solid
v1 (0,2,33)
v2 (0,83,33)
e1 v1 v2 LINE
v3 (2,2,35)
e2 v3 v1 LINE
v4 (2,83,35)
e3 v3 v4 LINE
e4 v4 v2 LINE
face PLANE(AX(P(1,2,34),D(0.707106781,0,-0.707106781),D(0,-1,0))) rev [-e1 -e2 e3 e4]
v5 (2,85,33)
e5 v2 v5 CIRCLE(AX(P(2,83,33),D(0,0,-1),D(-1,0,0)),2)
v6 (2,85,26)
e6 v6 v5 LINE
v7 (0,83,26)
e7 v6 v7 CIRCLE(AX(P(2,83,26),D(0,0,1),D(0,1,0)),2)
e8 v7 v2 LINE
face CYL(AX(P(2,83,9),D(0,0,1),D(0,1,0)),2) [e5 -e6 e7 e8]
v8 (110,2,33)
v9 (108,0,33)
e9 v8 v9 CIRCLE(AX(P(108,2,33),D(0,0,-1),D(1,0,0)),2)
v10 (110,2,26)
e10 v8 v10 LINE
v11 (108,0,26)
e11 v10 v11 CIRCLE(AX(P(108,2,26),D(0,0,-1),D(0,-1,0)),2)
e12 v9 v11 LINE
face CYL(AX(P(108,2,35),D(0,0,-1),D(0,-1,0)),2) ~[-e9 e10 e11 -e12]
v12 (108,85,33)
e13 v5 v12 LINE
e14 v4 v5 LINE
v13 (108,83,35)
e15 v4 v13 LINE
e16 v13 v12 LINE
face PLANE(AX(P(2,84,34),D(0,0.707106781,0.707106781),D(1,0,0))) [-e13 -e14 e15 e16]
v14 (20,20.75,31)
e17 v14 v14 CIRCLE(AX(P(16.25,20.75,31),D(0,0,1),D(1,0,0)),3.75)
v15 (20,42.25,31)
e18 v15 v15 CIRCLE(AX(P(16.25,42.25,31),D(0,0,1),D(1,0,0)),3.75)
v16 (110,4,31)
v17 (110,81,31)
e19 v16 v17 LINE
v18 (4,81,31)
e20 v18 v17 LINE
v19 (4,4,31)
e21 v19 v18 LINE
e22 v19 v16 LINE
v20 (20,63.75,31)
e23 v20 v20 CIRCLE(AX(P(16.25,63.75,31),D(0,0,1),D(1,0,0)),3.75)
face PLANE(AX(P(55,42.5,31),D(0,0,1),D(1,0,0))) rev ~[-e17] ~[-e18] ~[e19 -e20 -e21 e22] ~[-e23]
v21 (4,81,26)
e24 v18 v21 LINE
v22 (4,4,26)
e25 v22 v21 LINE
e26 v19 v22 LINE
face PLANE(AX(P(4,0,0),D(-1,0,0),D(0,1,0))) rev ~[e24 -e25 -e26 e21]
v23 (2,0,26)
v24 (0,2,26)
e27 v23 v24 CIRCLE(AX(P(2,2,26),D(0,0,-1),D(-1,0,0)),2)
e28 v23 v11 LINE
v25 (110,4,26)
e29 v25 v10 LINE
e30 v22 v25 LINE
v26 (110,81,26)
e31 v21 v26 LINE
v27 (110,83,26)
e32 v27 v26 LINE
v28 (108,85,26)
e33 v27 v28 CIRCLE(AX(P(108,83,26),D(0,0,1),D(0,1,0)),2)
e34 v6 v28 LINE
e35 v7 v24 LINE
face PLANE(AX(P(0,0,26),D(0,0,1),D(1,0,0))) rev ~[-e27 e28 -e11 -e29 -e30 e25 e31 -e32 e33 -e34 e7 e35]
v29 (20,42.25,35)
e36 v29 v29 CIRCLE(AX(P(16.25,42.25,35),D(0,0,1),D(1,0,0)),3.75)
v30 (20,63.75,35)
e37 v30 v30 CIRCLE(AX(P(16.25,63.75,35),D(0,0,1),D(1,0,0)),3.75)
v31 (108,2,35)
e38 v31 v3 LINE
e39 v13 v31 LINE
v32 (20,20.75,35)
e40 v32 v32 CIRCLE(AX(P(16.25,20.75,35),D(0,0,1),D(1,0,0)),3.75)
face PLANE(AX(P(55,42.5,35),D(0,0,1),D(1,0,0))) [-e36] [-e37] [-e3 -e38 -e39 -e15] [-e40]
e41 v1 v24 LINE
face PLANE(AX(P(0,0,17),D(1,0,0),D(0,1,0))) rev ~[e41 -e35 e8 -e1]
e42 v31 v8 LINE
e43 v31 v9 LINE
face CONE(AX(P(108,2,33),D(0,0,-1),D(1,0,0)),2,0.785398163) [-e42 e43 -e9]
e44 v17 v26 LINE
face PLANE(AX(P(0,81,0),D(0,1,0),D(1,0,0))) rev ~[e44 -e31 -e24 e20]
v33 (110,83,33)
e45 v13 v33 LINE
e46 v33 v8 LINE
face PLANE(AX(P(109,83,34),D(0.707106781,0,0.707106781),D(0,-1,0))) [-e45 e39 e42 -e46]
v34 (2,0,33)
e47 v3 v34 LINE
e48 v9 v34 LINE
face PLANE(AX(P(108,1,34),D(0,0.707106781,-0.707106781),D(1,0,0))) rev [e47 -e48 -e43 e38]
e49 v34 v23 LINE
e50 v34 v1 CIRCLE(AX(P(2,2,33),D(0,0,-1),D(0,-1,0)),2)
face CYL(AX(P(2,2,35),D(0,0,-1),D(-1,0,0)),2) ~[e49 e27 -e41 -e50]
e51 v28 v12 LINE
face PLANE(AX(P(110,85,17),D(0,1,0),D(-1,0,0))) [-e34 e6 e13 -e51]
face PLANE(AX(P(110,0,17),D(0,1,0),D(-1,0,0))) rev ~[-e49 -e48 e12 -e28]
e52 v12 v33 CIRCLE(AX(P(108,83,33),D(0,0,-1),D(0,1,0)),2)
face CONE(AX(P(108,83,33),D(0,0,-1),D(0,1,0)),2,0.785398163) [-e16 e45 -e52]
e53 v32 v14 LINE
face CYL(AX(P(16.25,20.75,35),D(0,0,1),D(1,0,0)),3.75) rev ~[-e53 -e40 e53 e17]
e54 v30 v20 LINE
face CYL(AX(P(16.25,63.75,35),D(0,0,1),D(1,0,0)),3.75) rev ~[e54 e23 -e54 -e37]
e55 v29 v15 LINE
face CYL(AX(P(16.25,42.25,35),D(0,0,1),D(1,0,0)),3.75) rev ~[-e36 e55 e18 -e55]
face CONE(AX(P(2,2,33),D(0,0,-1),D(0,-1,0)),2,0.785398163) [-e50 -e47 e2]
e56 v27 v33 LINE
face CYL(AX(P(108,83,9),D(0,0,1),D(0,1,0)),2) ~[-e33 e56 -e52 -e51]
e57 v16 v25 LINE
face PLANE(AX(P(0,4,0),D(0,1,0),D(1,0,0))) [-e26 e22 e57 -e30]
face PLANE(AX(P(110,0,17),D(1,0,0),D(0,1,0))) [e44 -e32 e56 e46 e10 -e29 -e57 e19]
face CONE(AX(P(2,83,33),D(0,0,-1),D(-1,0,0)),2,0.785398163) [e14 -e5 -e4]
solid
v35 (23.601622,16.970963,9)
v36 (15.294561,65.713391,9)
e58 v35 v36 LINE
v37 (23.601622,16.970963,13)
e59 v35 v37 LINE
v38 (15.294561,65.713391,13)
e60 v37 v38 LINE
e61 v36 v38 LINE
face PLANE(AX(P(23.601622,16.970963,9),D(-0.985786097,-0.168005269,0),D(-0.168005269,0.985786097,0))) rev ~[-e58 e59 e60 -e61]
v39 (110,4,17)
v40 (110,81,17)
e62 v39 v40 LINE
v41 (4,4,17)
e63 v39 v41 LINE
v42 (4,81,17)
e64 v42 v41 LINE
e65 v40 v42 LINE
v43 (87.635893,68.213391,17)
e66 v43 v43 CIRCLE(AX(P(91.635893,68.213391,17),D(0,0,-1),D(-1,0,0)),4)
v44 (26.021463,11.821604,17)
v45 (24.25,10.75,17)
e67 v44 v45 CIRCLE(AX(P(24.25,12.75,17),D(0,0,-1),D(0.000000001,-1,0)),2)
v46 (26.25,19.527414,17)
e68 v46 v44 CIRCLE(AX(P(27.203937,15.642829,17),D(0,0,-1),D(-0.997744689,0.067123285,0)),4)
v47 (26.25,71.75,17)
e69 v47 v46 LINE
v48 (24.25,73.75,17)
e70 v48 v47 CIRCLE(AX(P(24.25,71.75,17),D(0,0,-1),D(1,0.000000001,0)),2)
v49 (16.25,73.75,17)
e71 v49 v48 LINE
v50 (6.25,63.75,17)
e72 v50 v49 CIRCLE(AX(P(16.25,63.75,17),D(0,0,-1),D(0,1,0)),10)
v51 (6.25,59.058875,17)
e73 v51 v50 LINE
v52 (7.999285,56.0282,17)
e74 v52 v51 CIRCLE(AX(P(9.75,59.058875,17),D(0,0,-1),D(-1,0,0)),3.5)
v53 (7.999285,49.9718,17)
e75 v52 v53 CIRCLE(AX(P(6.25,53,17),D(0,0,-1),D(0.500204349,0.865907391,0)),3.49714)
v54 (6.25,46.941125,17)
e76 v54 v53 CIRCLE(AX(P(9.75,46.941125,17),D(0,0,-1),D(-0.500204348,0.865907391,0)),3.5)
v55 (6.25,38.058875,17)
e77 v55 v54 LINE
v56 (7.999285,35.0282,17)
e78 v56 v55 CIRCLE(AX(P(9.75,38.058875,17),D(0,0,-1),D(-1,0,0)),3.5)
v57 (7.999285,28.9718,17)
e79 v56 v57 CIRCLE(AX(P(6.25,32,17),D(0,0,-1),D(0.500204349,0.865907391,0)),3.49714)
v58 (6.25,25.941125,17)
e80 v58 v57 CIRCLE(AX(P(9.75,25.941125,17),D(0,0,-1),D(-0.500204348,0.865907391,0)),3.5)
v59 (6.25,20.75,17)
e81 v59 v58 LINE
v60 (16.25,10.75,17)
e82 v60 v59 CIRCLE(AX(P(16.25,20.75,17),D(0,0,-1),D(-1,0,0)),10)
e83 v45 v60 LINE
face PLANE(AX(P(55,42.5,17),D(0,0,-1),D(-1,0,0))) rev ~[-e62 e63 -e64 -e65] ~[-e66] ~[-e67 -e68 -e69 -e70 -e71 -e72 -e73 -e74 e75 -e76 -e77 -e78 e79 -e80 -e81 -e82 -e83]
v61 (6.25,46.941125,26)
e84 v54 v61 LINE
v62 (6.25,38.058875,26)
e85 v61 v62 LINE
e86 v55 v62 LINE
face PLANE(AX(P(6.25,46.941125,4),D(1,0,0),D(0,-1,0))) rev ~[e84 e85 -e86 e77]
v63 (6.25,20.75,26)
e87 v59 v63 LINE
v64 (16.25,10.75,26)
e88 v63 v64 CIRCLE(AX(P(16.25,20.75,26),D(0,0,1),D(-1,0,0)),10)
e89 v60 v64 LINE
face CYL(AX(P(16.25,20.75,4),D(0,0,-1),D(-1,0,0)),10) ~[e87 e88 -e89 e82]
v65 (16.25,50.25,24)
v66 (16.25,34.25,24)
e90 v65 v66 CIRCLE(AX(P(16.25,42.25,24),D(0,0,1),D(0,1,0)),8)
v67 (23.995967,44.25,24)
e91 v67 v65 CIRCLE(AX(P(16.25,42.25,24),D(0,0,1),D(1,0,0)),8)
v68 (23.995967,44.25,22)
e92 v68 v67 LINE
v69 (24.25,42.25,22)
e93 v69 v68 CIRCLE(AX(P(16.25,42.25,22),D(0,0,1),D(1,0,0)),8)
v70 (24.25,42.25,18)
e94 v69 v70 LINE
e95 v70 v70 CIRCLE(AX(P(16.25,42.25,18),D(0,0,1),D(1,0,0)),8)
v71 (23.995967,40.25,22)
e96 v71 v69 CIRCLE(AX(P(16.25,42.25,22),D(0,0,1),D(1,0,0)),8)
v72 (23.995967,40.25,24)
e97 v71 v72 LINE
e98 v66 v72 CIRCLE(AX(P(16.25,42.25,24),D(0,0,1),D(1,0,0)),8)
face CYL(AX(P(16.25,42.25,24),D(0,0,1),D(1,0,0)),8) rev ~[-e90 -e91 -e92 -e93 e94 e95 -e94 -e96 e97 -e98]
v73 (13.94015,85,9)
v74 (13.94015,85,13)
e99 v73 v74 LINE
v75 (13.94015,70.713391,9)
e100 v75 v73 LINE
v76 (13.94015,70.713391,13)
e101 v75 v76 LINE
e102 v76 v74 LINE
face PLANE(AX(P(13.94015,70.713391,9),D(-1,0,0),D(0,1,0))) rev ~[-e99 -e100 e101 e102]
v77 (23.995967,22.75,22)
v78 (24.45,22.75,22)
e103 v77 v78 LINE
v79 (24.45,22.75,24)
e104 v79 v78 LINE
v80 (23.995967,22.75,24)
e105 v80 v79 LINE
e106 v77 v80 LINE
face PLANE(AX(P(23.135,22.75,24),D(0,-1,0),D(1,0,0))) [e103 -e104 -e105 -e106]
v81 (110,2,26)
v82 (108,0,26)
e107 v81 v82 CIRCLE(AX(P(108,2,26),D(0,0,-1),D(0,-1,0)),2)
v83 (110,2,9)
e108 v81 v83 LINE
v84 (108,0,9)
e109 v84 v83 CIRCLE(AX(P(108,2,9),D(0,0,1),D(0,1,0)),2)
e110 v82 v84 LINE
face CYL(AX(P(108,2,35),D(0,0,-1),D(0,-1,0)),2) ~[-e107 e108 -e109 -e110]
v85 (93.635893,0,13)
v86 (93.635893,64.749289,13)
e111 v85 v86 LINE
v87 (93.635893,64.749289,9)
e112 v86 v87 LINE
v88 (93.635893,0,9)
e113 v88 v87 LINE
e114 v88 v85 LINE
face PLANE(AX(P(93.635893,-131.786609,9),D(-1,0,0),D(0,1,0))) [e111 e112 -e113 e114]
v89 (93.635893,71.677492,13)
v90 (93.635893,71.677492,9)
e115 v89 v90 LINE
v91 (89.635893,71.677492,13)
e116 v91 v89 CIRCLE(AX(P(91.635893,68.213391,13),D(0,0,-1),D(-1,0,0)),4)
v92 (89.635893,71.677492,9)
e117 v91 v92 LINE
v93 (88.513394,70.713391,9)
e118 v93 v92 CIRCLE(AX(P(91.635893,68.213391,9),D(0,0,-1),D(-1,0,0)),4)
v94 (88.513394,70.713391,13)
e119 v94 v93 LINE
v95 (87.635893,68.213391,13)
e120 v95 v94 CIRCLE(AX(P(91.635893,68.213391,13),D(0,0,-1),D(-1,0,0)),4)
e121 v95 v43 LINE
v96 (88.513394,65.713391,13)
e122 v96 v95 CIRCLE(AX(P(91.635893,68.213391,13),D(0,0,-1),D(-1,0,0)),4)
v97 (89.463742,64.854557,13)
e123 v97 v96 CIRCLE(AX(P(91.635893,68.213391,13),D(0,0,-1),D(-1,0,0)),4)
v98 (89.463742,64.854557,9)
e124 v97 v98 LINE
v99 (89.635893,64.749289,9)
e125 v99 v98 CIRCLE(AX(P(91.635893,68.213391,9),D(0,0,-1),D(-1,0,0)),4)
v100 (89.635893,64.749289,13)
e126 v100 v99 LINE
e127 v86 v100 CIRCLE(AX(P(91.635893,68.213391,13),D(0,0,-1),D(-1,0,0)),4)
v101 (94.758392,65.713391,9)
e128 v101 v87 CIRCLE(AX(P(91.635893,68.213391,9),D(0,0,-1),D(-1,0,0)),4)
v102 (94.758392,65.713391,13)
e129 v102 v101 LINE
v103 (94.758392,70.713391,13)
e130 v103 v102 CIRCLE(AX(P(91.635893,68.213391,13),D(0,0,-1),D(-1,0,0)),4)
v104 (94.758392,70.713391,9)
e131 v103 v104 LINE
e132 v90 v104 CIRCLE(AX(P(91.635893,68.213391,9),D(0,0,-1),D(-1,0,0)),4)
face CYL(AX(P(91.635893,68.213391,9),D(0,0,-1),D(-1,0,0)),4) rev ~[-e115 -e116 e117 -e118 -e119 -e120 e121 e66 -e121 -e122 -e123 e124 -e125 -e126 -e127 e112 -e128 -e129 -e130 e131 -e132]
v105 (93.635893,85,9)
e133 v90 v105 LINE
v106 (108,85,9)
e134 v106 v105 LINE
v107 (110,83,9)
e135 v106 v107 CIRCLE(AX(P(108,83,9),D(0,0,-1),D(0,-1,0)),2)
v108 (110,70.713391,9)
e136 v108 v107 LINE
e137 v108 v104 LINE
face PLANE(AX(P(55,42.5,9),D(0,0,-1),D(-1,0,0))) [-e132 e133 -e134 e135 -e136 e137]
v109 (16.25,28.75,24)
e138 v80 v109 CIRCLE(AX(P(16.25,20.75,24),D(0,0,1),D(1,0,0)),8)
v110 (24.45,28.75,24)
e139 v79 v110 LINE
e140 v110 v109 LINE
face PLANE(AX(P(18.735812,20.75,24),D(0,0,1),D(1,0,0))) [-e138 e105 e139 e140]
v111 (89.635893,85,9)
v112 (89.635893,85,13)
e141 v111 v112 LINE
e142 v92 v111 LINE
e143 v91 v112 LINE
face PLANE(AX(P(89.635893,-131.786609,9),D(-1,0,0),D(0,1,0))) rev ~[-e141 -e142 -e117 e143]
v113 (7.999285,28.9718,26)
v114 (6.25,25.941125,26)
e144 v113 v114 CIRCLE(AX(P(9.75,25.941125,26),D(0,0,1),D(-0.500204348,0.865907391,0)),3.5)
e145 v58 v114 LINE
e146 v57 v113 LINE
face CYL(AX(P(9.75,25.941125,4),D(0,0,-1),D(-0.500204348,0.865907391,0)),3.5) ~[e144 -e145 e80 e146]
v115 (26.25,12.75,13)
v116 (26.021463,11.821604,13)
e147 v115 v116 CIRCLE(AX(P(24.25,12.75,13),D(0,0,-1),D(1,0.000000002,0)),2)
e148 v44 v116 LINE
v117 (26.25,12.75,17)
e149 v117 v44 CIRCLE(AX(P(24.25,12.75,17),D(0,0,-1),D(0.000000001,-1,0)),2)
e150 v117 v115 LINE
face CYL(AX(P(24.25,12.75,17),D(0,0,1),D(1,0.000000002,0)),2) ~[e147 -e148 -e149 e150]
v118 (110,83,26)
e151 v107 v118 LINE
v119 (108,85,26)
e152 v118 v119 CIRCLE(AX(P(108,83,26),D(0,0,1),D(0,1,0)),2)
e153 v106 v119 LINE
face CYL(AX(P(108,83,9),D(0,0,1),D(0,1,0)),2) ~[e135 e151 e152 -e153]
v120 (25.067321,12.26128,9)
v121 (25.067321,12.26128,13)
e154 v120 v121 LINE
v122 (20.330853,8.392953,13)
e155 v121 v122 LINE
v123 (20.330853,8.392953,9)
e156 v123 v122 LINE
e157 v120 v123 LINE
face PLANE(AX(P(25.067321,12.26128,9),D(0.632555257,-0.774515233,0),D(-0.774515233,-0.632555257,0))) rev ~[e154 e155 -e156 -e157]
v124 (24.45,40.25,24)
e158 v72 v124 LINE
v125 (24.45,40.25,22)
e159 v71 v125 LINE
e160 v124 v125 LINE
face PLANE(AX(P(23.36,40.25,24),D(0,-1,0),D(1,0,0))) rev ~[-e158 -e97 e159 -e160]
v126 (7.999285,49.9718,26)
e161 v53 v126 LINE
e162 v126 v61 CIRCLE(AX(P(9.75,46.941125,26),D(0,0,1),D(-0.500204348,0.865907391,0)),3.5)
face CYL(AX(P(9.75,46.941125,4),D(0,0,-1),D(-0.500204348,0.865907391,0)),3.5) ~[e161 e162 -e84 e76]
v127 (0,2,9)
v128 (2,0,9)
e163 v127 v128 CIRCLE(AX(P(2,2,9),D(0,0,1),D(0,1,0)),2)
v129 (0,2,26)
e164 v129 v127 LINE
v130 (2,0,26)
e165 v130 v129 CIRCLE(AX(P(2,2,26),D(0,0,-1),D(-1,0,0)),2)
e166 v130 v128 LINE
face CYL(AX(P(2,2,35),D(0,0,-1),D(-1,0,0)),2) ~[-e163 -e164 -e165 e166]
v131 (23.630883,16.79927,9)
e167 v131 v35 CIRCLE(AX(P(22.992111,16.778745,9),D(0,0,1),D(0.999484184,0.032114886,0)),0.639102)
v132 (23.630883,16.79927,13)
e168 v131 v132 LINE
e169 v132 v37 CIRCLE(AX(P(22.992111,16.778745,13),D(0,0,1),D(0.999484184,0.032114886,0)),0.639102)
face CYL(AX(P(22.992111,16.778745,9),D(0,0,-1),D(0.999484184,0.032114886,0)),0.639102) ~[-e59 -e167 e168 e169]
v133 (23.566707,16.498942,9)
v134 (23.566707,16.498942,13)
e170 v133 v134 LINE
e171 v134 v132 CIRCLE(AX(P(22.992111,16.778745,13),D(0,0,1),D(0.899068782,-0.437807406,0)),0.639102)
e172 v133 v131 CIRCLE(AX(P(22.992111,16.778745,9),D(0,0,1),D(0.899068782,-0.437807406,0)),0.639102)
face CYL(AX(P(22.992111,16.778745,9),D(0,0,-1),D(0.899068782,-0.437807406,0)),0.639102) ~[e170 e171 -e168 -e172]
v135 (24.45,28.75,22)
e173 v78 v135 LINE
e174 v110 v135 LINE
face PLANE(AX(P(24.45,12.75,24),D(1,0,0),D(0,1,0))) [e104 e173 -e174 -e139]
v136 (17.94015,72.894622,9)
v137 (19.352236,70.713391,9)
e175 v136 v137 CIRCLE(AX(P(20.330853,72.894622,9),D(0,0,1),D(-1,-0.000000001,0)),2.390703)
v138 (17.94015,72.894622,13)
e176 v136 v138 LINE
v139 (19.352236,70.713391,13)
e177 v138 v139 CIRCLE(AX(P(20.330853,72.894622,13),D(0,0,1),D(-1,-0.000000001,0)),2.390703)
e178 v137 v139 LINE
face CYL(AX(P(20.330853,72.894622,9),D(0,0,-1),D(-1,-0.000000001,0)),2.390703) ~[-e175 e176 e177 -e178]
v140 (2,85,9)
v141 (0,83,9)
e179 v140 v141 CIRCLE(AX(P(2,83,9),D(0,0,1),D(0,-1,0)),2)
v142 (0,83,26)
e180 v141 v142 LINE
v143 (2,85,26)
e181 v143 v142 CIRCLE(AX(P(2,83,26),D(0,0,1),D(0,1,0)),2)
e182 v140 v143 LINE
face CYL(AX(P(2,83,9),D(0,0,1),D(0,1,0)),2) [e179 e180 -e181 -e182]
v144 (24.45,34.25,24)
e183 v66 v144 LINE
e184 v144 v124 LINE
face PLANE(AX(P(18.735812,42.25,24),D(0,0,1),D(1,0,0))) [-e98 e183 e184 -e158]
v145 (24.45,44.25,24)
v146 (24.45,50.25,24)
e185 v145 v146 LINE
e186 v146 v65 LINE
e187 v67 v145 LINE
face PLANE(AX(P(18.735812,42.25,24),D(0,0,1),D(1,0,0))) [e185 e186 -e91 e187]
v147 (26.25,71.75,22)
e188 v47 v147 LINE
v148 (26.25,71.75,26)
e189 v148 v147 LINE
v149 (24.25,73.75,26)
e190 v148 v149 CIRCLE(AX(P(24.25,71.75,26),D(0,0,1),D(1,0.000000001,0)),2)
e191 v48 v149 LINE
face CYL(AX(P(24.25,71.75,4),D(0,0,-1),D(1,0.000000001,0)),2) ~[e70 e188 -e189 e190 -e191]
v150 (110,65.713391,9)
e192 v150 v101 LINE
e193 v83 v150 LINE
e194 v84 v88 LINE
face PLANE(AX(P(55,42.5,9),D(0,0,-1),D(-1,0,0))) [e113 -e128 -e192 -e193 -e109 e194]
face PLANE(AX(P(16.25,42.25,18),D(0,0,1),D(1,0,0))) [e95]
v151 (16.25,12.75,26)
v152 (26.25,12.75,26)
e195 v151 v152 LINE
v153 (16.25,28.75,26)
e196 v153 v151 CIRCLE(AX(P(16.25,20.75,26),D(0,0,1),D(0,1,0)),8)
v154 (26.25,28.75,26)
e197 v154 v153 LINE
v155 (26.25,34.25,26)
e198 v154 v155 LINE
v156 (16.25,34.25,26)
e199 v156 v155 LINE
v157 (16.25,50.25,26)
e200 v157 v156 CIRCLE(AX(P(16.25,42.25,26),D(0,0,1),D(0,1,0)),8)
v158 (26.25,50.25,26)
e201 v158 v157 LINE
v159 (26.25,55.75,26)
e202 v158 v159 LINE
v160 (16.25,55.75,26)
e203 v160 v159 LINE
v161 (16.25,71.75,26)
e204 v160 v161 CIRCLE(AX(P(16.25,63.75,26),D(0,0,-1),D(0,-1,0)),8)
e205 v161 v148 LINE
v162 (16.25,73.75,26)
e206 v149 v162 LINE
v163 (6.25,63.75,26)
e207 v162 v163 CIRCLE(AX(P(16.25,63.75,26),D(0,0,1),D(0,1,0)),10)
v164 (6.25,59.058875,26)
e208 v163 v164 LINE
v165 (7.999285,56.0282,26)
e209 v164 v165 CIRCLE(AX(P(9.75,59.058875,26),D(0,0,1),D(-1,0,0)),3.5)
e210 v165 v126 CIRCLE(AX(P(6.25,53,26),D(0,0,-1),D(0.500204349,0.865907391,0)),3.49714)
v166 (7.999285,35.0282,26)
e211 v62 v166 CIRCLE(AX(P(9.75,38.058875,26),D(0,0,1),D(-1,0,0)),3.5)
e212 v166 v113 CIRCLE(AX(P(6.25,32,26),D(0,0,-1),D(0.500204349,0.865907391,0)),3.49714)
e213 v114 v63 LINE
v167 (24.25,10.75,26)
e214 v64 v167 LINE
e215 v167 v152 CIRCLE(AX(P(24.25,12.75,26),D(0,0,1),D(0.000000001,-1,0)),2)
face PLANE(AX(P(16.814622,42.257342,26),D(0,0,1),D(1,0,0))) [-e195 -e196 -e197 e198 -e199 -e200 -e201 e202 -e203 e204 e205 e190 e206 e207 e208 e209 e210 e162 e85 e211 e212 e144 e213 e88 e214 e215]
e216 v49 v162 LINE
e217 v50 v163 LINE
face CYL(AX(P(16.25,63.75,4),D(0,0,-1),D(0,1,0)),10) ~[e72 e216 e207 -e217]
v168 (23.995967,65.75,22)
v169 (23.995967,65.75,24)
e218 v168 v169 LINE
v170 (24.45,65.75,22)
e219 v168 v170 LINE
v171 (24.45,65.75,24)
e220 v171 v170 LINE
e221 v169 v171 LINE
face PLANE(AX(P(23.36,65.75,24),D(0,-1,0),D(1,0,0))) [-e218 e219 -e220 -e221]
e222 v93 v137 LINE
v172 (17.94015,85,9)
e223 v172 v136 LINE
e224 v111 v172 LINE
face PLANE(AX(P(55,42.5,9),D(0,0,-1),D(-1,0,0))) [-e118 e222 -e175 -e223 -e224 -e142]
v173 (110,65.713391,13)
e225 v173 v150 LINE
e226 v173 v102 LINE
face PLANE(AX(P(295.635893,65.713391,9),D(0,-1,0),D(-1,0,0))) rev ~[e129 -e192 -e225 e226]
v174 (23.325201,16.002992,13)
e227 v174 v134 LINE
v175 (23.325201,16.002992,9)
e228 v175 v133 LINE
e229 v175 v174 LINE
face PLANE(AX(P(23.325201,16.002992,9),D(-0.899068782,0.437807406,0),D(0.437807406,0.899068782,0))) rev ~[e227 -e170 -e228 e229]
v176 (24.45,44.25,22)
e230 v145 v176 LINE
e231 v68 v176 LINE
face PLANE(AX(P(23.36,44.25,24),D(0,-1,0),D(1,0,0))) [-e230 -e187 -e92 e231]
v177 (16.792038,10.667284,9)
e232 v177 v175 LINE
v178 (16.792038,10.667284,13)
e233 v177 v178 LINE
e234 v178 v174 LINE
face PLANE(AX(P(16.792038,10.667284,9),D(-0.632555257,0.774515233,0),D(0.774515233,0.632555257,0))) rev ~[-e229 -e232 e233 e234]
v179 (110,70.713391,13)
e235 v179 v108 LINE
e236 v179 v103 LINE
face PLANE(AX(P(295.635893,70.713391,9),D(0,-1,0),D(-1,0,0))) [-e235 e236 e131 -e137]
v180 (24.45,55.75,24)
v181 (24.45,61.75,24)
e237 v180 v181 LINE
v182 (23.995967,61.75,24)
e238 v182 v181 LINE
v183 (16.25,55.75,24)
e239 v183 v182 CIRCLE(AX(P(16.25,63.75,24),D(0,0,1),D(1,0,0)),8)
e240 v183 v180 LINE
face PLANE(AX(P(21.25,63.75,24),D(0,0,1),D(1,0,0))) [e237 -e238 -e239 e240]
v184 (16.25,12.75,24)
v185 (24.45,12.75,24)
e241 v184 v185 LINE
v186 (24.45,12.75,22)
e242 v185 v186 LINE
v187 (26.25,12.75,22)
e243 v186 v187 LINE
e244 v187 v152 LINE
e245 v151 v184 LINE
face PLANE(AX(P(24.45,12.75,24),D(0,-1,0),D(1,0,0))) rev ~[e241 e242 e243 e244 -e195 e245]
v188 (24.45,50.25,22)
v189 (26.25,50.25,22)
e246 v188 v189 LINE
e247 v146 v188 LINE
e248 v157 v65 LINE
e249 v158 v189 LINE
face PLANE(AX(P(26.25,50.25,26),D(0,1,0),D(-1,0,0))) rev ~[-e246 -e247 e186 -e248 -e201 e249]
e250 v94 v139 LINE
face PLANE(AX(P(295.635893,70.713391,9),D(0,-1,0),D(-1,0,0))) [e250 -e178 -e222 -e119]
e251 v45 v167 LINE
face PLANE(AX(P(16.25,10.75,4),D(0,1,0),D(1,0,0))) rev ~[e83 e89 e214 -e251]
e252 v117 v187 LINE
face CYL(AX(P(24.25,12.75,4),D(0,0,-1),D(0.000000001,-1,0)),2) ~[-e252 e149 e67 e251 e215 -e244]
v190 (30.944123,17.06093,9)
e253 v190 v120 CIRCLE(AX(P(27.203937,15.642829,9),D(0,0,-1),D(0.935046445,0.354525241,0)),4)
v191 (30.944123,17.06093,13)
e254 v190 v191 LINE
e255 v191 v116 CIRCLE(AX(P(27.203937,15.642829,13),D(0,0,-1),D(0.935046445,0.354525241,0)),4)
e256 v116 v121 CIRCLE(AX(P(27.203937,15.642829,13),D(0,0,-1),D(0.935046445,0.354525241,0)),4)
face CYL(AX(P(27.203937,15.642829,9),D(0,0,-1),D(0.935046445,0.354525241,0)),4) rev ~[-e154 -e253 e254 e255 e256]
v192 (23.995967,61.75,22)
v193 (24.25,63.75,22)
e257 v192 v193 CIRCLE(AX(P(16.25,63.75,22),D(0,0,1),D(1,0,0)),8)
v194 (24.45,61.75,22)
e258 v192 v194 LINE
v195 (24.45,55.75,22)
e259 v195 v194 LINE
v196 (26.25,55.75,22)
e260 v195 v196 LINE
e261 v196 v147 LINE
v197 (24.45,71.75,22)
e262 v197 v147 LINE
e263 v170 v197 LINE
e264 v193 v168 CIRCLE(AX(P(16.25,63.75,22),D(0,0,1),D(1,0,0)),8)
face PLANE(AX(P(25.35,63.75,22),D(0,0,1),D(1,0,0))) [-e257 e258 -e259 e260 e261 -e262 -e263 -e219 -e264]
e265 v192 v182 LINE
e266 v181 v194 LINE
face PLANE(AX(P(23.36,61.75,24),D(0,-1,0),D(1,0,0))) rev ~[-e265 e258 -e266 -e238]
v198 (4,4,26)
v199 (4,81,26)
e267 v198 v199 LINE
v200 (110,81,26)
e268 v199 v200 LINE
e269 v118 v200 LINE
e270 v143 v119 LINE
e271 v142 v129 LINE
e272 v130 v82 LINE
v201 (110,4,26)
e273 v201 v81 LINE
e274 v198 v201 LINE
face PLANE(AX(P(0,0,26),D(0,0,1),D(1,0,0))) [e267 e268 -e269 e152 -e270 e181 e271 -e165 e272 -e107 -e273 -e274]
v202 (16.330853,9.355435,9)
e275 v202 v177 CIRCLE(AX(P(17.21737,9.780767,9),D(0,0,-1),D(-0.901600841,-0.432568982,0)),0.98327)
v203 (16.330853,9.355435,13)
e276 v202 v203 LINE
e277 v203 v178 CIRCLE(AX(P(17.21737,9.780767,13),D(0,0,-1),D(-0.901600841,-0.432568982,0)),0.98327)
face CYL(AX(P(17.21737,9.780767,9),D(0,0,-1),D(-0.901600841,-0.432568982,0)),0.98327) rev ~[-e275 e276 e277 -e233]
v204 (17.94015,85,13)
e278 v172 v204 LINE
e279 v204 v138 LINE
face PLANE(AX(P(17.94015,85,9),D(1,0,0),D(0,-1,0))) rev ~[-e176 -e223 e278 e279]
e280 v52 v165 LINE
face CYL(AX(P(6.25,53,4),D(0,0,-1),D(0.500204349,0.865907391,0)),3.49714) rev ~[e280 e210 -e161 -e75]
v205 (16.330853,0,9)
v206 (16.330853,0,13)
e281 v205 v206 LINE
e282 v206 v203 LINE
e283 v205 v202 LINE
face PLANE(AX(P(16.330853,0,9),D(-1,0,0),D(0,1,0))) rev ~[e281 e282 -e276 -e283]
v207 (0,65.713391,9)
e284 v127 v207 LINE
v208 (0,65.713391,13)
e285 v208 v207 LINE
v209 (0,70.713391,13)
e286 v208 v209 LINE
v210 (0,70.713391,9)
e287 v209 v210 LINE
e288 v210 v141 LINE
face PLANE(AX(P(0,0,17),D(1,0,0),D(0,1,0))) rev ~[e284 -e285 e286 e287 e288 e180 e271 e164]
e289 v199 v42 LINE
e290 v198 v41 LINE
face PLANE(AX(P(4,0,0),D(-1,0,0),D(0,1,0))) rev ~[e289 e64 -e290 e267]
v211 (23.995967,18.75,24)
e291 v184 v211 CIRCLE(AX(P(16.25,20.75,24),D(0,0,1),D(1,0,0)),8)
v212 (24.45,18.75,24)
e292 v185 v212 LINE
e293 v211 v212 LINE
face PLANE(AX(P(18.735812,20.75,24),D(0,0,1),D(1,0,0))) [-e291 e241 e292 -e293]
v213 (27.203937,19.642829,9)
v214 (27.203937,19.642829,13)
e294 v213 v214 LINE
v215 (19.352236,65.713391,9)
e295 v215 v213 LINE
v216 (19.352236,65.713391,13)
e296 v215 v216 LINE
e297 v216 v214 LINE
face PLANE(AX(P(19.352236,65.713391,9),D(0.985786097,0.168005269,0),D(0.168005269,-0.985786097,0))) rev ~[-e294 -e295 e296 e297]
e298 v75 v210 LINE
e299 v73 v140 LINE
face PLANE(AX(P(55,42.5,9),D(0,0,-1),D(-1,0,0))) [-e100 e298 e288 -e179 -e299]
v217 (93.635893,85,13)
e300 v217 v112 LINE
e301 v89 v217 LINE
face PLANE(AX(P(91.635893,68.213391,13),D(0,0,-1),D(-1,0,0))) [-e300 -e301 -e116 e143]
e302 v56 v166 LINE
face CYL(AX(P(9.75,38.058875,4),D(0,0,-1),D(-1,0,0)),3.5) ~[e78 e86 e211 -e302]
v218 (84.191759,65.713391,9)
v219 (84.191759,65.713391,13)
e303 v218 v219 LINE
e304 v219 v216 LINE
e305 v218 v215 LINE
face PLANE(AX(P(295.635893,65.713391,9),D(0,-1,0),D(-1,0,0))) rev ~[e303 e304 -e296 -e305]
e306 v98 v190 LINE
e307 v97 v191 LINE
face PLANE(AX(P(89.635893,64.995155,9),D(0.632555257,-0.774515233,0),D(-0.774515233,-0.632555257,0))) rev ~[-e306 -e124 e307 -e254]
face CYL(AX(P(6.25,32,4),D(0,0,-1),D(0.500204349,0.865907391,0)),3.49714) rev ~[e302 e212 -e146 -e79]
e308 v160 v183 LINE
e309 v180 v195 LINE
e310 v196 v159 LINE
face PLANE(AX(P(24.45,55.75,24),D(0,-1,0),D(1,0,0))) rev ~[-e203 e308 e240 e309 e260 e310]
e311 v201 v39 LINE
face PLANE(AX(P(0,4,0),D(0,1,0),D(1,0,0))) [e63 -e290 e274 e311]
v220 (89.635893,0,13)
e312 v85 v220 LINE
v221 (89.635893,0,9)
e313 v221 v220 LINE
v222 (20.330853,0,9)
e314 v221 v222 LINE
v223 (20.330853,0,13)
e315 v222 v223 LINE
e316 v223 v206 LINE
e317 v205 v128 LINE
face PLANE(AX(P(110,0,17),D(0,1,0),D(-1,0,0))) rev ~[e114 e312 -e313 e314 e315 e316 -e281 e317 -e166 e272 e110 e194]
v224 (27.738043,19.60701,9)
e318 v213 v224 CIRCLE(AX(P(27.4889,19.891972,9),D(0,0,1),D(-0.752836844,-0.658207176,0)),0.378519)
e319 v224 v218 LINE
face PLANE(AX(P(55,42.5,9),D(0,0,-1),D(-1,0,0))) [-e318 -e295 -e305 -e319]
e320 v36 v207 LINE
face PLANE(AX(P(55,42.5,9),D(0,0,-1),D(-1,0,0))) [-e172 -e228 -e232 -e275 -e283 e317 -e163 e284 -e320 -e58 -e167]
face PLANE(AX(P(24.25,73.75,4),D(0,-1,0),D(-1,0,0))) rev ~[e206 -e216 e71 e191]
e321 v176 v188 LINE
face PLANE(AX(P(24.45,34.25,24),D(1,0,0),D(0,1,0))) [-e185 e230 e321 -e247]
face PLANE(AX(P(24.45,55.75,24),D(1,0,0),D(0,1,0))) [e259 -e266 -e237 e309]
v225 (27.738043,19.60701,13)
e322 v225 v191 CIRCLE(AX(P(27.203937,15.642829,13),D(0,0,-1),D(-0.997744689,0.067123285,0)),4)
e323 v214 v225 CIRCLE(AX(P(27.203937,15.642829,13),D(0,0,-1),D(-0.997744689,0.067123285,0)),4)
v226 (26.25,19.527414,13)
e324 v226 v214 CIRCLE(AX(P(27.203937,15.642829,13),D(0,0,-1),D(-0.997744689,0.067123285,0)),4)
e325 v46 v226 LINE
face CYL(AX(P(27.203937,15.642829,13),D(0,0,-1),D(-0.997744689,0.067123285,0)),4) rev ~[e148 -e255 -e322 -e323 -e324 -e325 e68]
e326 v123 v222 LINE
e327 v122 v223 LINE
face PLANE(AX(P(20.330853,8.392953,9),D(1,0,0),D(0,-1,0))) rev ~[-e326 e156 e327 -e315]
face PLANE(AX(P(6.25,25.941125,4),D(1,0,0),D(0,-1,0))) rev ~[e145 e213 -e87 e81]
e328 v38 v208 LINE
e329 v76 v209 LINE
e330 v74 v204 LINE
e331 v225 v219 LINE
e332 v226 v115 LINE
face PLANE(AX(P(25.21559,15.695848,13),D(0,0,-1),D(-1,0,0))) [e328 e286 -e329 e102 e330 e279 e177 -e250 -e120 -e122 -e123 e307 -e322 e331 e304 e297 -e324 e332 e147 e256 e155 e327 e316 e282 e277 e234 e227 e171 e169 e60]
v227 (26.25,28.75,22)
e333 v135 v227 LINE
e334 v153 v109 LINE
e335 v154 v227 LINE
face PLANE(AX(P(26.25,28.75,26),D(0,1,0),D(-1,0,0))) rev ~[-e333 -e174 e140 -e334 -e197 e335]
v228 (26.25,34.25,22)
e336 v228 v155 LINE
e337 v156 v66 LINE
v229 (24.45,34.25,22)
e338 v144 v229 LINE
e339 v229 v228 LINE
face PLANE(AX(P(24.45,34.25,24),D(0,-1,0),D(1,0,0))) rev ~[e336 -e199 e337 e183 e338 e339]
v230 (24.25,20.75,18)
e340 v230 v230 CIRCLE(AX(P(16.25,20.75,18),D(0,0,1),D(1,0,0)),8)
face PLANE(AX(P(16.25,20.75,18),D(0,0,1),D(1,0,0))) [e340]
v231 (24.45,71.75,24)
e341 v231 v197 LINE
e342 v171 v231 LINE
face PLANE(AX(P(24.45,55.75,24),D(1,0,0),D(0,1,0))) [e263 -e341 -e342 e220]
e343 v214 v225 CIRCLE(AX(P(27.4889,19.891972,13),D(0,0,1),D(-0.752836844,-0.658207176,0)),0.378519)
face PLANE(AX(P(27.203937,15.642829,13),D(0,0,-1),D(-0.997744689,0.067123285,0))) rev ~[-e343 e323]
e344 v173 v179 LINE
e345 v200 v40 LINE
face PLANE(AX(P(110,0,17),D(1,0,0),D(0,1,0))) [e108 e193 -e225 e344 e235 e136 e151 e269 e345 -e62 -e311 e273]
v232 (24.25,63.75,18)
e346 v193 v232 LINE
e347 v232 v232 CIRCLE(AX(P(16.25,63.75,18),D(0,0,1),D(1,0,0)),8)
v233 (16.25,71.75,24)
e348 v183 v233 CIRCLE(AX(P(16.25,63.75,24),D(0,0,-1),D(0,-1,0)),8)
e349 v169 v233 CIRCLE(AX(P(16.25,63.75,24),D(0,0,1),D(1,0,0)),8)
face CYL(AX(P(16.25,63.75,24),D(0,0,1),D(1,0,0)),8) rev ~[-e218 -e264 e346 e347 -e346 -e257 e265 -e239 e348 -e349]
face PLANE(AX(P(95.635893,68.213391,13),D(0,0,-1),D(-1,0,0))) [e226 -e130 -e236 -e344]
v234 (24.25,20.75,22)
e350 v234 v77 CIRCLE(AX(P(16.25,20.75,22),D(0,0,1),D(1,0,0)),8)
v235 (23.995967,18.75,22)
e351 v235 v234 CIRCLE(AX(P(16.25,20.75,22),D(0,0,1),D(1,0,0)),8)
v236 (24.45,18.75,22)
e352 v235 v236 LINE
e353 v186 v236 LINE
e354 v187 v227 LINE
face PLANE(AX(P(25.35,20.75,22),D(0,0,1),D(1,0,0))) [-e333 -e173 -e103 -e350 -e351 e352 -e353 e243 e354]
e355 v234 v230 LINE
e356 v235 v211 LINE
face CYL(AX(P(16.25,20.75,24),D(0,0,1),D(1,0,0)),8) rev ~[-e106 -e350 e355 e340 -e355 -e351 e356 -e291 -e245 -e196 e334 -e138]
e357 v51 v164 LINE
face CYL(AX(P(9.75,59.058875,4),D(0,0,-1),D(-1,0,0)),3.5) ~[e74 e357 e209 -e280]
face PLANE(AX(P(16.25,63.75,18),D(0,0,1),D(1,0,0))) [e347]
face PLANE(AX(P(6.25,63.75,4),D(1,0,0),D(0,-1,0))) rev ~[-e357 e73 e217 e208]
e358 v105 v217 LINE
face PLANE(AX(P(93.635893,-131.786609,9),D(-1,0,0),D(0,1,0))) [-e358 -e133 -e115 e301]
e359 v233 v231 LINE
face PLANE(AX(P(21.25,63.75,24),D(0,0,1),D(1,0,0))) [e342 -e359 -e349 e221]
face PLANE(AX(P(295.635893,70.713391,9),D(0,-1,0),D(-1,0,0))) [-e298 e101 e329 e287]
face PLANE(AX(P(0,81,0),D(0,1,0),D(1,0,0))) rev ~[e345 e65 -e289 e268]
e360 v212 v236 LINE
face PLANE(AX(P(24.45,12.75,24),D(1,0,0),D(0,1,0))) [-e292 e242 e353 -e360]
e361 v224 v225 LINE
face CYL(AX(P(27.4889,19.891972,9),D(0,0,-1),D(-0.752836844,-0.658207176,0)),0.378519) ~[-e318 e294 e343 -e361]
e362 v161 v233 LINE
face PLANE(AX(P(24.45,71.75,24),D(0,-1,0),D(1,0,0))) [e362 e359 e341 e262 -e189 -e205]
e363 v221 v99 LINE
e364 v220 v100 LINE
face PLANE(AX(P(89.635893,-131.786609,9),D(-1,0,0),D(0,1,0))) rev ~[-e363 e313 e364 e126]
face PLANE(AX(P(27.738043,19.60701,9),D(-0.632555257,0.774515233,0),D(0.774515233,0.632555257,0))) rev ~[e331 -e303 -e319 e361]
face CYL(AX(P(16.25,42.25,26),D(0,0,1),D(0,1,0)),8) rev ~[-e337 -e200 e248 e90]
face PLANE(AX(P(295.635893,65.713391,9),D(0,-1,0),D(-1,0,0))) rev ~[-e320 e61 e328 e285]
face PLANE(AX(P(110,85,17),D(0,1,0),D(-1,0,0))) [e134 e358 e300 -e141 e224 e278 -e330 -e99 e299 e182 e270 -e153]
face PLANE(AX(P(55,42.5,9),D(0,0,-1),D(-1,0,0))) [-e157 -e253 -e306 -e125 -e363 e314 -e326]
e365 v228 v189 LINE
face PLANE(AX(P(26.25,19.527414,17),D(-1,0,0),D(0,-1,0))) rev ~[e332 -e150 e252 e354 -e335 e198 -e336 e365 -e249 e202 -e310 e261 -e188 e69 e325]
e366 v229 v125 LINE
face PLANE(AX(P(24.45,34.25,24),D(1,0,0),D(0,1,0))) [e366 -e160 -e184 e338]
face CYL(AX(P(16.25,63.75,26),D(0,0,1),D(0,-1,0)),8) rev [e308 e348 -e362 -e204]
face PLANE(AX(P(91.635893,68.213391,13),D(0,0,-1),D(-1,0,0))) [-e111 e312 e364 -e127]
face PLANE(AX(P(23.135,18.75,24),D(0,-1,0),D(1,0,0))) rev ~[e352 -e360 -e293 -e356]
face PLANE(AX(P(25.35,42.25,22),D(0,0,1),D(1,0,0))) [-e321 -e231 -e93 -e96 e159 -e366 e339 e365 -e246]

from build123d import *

# Parameters (mm, degrees)
SKETCH1_W           = 110
SKETCH1_H           = 85
BOSS_EXTRUDE1_DEPTH = 35
SHELL1_T            = -4
SKETCH2_R           = 3.75
CUT_EXTRUDE1_DEPTH  = 5
BOSS_EXTRUDE2_DEPTH = 22
SKETCH4_W           = 10
SKETCH4_H           = 16
CUT_EXTRUDE2_DEPTH  = 2
SKETCH5_W           = 1.8
SKETCH5_H           = 16
CUT_EXTRUDE3_DEPTH  = 2
SKETCH6_R           = 8
CUT_EXTRUDE8_DEPTH  = 6
SKETCH7_W           = 2.18
SKETCH7_H           = 4
SKETCH7_W_2         = 2.63
CUT_EXTRUDE9_DEPTH  = 2
SKETCH8_W           = 110
SKETCH8_H           = 85
CUT_EXTRUDE10_DEPTH = 17
SKETCH9_W           = 110
SKETCH9_H           = 85
BOSS_EXTRUDE4_DEPTH = 8
SKETCH10_R          = 4
CUT_EXTRUDE11_DEPTH = 10
SKETCH11_W          = 400
SKETCH11_H          = 5
CUT_EXTRUDE12_DEPTH = 4
SKETCH12_W          = 4
SKETCH12_H          = 400
CUT_EXTRUDE13_DEPTH = 4
CUT_EXTRUDE14_DEPTH = 4
SKETCH14_R          = 4
CUT_EXTRUDE15_DEPTH = 4
BOSS_EXTRUDE5_DEPTH = 4
FILLET1_R           = 2
CHAMFER1_SIZE       = 2


with BuildPart() as part:
    # Sketch1 → Boss-Extrude1 (new body)
    with BuildSketch(Plane.XY):
        with Locations((55, 42.5)):
            Rectangle(SKETCH1_W, SKETCH1_H)
    extrude(amount=BOSS_EXTRUDE1_DEPTH)

    # Shell1
    shell1_openings = [part.faces().sort_by_distance(p)[0] for p in [
        (110, 42.5, 17.5),
    ]]
    offset(amount=SHELL1_T, openings=shell1_openings, kind=Kind.INTERSECTION)

    # Sketch2 → Cut-Extrude1 (cut)
    with BuildSketch(Plane.XY.offset(35)):
        with Locations((16.25, 63.75)):
            Circle(SKETCH2_R)
        with Locations((16.25, 42.25)):
            Circle(SKETCH2_R)
        with Locations((16.25, 20.75)):
            Circle(SKETCH2_R)
    extrude(amount=-CUT_EXTRUDE1_DEPTH, mode=Mode.SUBTRACT)

    # Sketch3 → Boss-Extrude2 (add)
    with BuildSketch(Plane.XY.offset(4)):
        with BuildLine():
            Line((6.25, 63.75), (6.25, 59.058875489))
            ThreePointArc((6.25, 59.058875489), (6.718704627, 57.309233136), (7.99928478, 56.028199621))
            ThreePointArc((7.99928478, 56.028199621), (9.747140287, 53), (7.99928478, 49.971800379))
            ThreePointArc((7.99928478, 49.971800379), (6.718704627, 48.690766864), (6.25, 46.941124511))
            Line((6.25, 46.941124511), (6.25, 38.058875489))
            ThreePointArc((6.25, 38.058875489), (6.718704627, 36.309233136), (7.99928478, 35.028199621))
            ThreePointArc((7.99928478, 35.028199621), (9.747140287, 32), (7.99928478, 28.971800379))
            ThreePointArc((7.99928478, 28.971800379), (6.718704627, 27.690766864), (6.25, 25.941124511))
            Line((6.25, 25.941124511), (6.25, 20.75))
            ThreePointArc((6.25, 20.75), (9.178932188, 13.678932188), (16.25, 10.75))
            Line((16.25, 10.75), (24.25, 10.75))
            ThreePointArc((24.25, 10.75), (25.664213562, 11.335786438), (26.25, 12.75))
            Line((26.25, 12.75), (26.25, 20.75))
            Line((26.25, 20.75), (26.25, 63.75))
            Line((26.25, 63.75), (26.25, 71.75))
            ThreePointArc((26.25, 71.75), (25.664213562, 73.164213562), (24.25, 73.75))
            Line((24.25, 73.75), (16.25, 73.75))
            ThreePointArc((16.25, 73.75), (9.178932188, 70.821067812), (6.25, 63.75))
        make_face()
    extrude(amount=BOSS_EXTRUDE2_DEPTH)

    # Sketch4 → Cut-Extrude2 (cut)
    with BuildSketch(Plane.XY.offset(26)):
        with Locations((21.25, 63.75)):
            Rectangle(SKETCH4_W, SKETCH4_H)
        with BuildLine():
            Line((16.25, 71.75), (16.25, 55.75))
            ThreePointArc((16.25, 55.75), (8.25, 63.75), (16.25, 71.75))
        make_face()
        with BuildLine():
            Line((26.25, 34.25), (26.25, 50.25))
            Line((26.25, 50.25), (16.25, 50.25))
            ThreePointArc((16.25, 50.25), (8.25, 42.25), (16.25, 34.25))
            Line((16.25, 34.25), (26.25, 34.25))
        make_face()
        with BuildLine():
            Line((26.25, 12.75), (26.25, 28.75))
            Line((26.25, 28.75), (16.25, 28.75))
            ThreePointArc((16.25, 28.75), (8.25, 20.75), (16.25, 12.75))
            Line((16.25, 12.75), (26.25, 12.75))
        make_face()
    extrude(amount=-CUT_EXTRUDE2_DEPTH, mode=Mode.SUBTRACT)

    # Sketch5 → Cut-Extrude3 (cut)
    with BuildSketch(Plane.XY.offset(24)):
        with Locations((25.35, 63.75)):
            Rectangle(SKETCH5_W, SKETCH5_H)
        with Locations((25.35, 42.25)):
            Rectangle(SKETCH5_W, SKETCH5_H)
        with Locations((25.35, 20.75)):
            Rectangle(SKETCH5_W, SKETCH5_H)
    extrude(amount=-CUT_EXTRUDE3_DEPTH, mode=Mode.SUBTRACT)

    # Sketch6 → Cut-Extrude8 (cut)
    with BuildSketch(Plane.XY.offset(24)):
        with Locations((16.25, 63.75)):
            Circle(SKETCH6_R)
        with Locations((16.25, 42.25)):
            Circle(SKETCH6_R)
        with Locations((16.25, 20.75)):
            Circle(SKETCH6_R)
    extrude(amount=-CUT_EXTRUDE8_DEPTH, mode=Mode.SUBTRACT)

    # Sketch7 → Cut-Extrude9 (cut)
    with BuildSketch(Plane.XY.offset(24)):
        with Locations((24.45, 63.75)):
            Rectangle(SKETCH7_W, SKETCH7_H)
        with Locations((24.45, 42.25)):
            Rectangle(SKETCH7_W, SKETCH7_H)
        with Locations((24.45, 20.75)):
            Rectangle(SKETCH7_W_2, SKETCH7_H)
    extrude(amount=-CUT_EXTRUDE9_DEPTH, mode=Mode.SUBTRACT)

    # Sketch8 → Cut-Extrude10 (cut)
    with BuildSketch(Plane(origin=(0, 0, 0), x_dir=(-1, 0, 0), z_dir=(0, 0, -1))):
        with Locations((-55, 42.5)):
            Rectangle(SKETCH8_W, SKETCH8_H)
    extrude(amount=-CUT_EXTRUDE10_DEPTH, mode=Mode.SUBTRACT)


with BuildPart() as cut_extrude10_piece_1:
    # of the separate pieces the step leaves, piece 1, a body of its own (cut_extrude10_pieces)
    add(part.part.solids().sort_by_distance((0, 85, 17))[0])



with BuildPart() as cut_extrude10_piece_2:
    # of the separate pieces the step leaves, piece 2, a body of its own (cut_extrude10_pieces)
    add(part.part.solids().sort_by_distance((6.25, 59.058875489, 17))[0])


with BuildPart() as cut_extrude10_piece_1_1:
    add(cut_extrude10_piece_1.part)

    add(cut_extrude10_piece_2.part)  # Boss-Extrude4 merges Cut-Extrude10 piece 2
    # Sketch9 → Boss-Extrude4 (add)
    with BuildSketch(Plane(origin=(0, 0, 17), x_dir=(-1, 0, 0), z_dir=(0, 0, -1))):
        with Locations((-55, 42.5)):
            Rectangle(SKETCH9_W, SKETCH9_H)
    extrude(amount=BOSS_EXTRUDE4_DEPTH)

    # Sketch10 → Cut-Extrude11 (cut)
    with BuildSketch(Plane(origin=(0, 0, 9), x_dir=(-1, 0, 0), z_dir=(0, 0, -1))):
        with Locations((-91.635892751, 68.213390564)):
            Circle(SKETCH10_R)
    extrude(amount=-CUT_EXTRUDE11_DEPTH, mode=Mode.SUBTRACT)

    # Sketch11 → Cut-Extrude12 (cut)
    with BuildSketch(Plane(origin=(0, 0, 9), x_dir=(-1, 0, 0), z_dir=(0, 0, -1))):
        with Locations((-95.635892751, 68.213390564)):
            Rectangle(SKETCH11_W, SKETCH11_H)
    extrude(amount=-CUT_EXTRUDE12_DEPTH, mode=Mode.SUBTRACT)

    # Sketch12 → Cut-Extrude13 (cut)
    with BuildSketch(Plane(origin=(0, 0, 9), x_dir=(-1, 0, 0), z_dir=(0, 0, -1))):
        with Locations((-91.635892751, 68.213390564)):
            Rectangle(SKETCH12_W, SKETCH12_H)
    extrude(amount=-CUT_EXTRUDE13_DEPTH, mode=Mode.SUBTRACT)

    # Sketch13 → Cut-Extrude14 (cut)
    with BuildSketch(Plane(origin=(0, 0, 9), x_dir=(-1, 0, 0), z_dir=(0, 0, -1))):
        with BuildLine():
            Line((-89.635892751, 65.95101575), (-89.635892751, 64.99515496))
            Line((-89.635892751, 64.99515496), (-30.944122707, 17.060929682))
            ThreePointArc((-30.944122707, 17.060929682), (-29.734157956, 12.544767786), (-25.067320954, 12.261279936))
            Line((-25.067320954, 12.261279936), (-20.330852628, 8.392953259))
            Line((-20.330852628, 8.392953259), (-20.330852628, 0))
            Line((-20.330852628, 0), (-16.330852628, 0))
            Line((-16.330852628, 0), (-16.330852628, 9.355434762))
            ThreePointArc((-16.330852628, 9.355434762), (-16.289752238, 10.106874078), (-16.79203771, 10.667284278))
            Line((-16.79203771, 10.667284278), (-23.325201079, 16.002991899))
            Line((-23.325201079, 16.002991899), (-23.566707085, 16.498941734))
            ThreePointArc((-23.566707085, 16.498941734), (-23.617102691, 16.645193724), (-23.630882747, 16.799269911))
            ThreePointArc((-23.630882747, 16.799269911), (-23.622128276, 16.886117691), (-23.601621561, 16.970962564))
            Line((-23.601621561, 16.970962564), (-15.294561061, 65.713390564))
            Line((-15.294561061, 65.713390564), (-19.352236465, 65.713390564))
            Line((-19.352236465, 65.713390564), (-27.203936928, 19.64282872))
            ThreePointArc((-27.203936928, 19.64282872), (-27.463571803, 19.514302093), (-27.738043433, 19.607009624))
            Line((-27.738043433, 19.607009624), (-84.191758748, 65.713390564))
            Line((-84.191758748, 65.713390564), (-88.513393752, 65.713390564))
            Line((-88.513393752, 65.713390564), (-89.635892751, 65.95101575))
        make_face()
        with BuildLine():
            Line((-13.940150026, 70.713390564), (-13.940150026, 85))
            Line((-13.940150026, 85), (-17.940150026, 85))
            Line((-17.940150026, 85), (-17.940150026, 72.894621715))
            ThreePointArc((-17.940150026, 72.894621715), (-18.323984529, 71.59541451), (-19.352236465, 70.713390564))
            Line((-19.352236465, 70.713390564), (-17.940150026, 70.713390564))
            Line((-17.940150026, 70.713390564), (-13.940150026, 70.713390564))
        make_face()
    extrude(amount=-CUT_EXTRUDE14_DEPTH, mode=Mode.SUBTRACT)

    # Sketch14 → Cut-Extrude15 (cut)
    with BuildSketch(Plane(origin=(0, 0, 13), x_dir=(-1, 0, 0), z_dir=(0, 0, -1))):
        with Locations(Location((-27.203936928, 15.64282872, 0), (0, 0, 3.848774787))):
            Circle(SKETCH14_R)
    extrude(amount=-CUT_EXTRUDE15_DEPTH, mode=Mode.SUBTRACT)

    # Sketch15 → Boss-Extrude5 (add)
    with BuildSketch(Plane(origin=(0, 0, 17), x_dir=(-1, 0, 0), z_dir=(0, 0, -1))):
        with BuildLine():
            Line((-26.25, 19.527414198), (-26.25, 12.75))
            ThreePointArc((-26.25, 12.75), (-26.192025516, 12.271944671), (-26.021463103, 11.821604354))
            ThreePointArc((-26.021463103, 11.821604354), (-23.205694932, 15.761407537), (-26.25, 19.527414198))
        make_face()
    extrude(amount=BOSS_EXTRUDE5_DEPTH)

    # Fillet1
    fillet1_edges = [cut_extrude10_piece_1_1.edges().sort_by_distance(p)[0] for p in [
        (0, 85, 22),
        (110, 85, 22),
        (110, 0, 22),
        (0, 0, 22),
    ]]
    fillet(fillet1_edges, radius=FILLET1_R)

    # Chamfer1
    chamfer1_edges = [cut_extrude10_piece_1_1.edges().sort_by_distance(p)[0] for p in [
        (0, 42.5, 35),
        (55, 85, 35),
        (55, 0, 35),
        (110, 42.5, 35),
        (109.414213562, 84.414213562, 35),
        (109.414213562, 0.585786438, 35),
        (0.585786438, 0.585786438, 35),
        (0.585786438, 84.414213562, 35),
    ]]
    chamfer(chamfer1_edges, length=CHAMFER1_SIZE)


with BuildPart() as body_2:
    # Split1: the piece on the far side of the plane
    add(cut_extrude10_piece_1_1.part)
    split(bisect_by=Plane.XY.offset(26), keep=Keep.BOTTOM)


with BuildPart() as cut_extrude10_piece_1_2:
    add(cut_extrude10_piece_1_1.part)

    # Split1
    split(bisect_by=Plane.XY.offset(26), keep=Keep.TOP)


solid = Compound([body_2.part, cut_extrude10_piece_1_2.part])
